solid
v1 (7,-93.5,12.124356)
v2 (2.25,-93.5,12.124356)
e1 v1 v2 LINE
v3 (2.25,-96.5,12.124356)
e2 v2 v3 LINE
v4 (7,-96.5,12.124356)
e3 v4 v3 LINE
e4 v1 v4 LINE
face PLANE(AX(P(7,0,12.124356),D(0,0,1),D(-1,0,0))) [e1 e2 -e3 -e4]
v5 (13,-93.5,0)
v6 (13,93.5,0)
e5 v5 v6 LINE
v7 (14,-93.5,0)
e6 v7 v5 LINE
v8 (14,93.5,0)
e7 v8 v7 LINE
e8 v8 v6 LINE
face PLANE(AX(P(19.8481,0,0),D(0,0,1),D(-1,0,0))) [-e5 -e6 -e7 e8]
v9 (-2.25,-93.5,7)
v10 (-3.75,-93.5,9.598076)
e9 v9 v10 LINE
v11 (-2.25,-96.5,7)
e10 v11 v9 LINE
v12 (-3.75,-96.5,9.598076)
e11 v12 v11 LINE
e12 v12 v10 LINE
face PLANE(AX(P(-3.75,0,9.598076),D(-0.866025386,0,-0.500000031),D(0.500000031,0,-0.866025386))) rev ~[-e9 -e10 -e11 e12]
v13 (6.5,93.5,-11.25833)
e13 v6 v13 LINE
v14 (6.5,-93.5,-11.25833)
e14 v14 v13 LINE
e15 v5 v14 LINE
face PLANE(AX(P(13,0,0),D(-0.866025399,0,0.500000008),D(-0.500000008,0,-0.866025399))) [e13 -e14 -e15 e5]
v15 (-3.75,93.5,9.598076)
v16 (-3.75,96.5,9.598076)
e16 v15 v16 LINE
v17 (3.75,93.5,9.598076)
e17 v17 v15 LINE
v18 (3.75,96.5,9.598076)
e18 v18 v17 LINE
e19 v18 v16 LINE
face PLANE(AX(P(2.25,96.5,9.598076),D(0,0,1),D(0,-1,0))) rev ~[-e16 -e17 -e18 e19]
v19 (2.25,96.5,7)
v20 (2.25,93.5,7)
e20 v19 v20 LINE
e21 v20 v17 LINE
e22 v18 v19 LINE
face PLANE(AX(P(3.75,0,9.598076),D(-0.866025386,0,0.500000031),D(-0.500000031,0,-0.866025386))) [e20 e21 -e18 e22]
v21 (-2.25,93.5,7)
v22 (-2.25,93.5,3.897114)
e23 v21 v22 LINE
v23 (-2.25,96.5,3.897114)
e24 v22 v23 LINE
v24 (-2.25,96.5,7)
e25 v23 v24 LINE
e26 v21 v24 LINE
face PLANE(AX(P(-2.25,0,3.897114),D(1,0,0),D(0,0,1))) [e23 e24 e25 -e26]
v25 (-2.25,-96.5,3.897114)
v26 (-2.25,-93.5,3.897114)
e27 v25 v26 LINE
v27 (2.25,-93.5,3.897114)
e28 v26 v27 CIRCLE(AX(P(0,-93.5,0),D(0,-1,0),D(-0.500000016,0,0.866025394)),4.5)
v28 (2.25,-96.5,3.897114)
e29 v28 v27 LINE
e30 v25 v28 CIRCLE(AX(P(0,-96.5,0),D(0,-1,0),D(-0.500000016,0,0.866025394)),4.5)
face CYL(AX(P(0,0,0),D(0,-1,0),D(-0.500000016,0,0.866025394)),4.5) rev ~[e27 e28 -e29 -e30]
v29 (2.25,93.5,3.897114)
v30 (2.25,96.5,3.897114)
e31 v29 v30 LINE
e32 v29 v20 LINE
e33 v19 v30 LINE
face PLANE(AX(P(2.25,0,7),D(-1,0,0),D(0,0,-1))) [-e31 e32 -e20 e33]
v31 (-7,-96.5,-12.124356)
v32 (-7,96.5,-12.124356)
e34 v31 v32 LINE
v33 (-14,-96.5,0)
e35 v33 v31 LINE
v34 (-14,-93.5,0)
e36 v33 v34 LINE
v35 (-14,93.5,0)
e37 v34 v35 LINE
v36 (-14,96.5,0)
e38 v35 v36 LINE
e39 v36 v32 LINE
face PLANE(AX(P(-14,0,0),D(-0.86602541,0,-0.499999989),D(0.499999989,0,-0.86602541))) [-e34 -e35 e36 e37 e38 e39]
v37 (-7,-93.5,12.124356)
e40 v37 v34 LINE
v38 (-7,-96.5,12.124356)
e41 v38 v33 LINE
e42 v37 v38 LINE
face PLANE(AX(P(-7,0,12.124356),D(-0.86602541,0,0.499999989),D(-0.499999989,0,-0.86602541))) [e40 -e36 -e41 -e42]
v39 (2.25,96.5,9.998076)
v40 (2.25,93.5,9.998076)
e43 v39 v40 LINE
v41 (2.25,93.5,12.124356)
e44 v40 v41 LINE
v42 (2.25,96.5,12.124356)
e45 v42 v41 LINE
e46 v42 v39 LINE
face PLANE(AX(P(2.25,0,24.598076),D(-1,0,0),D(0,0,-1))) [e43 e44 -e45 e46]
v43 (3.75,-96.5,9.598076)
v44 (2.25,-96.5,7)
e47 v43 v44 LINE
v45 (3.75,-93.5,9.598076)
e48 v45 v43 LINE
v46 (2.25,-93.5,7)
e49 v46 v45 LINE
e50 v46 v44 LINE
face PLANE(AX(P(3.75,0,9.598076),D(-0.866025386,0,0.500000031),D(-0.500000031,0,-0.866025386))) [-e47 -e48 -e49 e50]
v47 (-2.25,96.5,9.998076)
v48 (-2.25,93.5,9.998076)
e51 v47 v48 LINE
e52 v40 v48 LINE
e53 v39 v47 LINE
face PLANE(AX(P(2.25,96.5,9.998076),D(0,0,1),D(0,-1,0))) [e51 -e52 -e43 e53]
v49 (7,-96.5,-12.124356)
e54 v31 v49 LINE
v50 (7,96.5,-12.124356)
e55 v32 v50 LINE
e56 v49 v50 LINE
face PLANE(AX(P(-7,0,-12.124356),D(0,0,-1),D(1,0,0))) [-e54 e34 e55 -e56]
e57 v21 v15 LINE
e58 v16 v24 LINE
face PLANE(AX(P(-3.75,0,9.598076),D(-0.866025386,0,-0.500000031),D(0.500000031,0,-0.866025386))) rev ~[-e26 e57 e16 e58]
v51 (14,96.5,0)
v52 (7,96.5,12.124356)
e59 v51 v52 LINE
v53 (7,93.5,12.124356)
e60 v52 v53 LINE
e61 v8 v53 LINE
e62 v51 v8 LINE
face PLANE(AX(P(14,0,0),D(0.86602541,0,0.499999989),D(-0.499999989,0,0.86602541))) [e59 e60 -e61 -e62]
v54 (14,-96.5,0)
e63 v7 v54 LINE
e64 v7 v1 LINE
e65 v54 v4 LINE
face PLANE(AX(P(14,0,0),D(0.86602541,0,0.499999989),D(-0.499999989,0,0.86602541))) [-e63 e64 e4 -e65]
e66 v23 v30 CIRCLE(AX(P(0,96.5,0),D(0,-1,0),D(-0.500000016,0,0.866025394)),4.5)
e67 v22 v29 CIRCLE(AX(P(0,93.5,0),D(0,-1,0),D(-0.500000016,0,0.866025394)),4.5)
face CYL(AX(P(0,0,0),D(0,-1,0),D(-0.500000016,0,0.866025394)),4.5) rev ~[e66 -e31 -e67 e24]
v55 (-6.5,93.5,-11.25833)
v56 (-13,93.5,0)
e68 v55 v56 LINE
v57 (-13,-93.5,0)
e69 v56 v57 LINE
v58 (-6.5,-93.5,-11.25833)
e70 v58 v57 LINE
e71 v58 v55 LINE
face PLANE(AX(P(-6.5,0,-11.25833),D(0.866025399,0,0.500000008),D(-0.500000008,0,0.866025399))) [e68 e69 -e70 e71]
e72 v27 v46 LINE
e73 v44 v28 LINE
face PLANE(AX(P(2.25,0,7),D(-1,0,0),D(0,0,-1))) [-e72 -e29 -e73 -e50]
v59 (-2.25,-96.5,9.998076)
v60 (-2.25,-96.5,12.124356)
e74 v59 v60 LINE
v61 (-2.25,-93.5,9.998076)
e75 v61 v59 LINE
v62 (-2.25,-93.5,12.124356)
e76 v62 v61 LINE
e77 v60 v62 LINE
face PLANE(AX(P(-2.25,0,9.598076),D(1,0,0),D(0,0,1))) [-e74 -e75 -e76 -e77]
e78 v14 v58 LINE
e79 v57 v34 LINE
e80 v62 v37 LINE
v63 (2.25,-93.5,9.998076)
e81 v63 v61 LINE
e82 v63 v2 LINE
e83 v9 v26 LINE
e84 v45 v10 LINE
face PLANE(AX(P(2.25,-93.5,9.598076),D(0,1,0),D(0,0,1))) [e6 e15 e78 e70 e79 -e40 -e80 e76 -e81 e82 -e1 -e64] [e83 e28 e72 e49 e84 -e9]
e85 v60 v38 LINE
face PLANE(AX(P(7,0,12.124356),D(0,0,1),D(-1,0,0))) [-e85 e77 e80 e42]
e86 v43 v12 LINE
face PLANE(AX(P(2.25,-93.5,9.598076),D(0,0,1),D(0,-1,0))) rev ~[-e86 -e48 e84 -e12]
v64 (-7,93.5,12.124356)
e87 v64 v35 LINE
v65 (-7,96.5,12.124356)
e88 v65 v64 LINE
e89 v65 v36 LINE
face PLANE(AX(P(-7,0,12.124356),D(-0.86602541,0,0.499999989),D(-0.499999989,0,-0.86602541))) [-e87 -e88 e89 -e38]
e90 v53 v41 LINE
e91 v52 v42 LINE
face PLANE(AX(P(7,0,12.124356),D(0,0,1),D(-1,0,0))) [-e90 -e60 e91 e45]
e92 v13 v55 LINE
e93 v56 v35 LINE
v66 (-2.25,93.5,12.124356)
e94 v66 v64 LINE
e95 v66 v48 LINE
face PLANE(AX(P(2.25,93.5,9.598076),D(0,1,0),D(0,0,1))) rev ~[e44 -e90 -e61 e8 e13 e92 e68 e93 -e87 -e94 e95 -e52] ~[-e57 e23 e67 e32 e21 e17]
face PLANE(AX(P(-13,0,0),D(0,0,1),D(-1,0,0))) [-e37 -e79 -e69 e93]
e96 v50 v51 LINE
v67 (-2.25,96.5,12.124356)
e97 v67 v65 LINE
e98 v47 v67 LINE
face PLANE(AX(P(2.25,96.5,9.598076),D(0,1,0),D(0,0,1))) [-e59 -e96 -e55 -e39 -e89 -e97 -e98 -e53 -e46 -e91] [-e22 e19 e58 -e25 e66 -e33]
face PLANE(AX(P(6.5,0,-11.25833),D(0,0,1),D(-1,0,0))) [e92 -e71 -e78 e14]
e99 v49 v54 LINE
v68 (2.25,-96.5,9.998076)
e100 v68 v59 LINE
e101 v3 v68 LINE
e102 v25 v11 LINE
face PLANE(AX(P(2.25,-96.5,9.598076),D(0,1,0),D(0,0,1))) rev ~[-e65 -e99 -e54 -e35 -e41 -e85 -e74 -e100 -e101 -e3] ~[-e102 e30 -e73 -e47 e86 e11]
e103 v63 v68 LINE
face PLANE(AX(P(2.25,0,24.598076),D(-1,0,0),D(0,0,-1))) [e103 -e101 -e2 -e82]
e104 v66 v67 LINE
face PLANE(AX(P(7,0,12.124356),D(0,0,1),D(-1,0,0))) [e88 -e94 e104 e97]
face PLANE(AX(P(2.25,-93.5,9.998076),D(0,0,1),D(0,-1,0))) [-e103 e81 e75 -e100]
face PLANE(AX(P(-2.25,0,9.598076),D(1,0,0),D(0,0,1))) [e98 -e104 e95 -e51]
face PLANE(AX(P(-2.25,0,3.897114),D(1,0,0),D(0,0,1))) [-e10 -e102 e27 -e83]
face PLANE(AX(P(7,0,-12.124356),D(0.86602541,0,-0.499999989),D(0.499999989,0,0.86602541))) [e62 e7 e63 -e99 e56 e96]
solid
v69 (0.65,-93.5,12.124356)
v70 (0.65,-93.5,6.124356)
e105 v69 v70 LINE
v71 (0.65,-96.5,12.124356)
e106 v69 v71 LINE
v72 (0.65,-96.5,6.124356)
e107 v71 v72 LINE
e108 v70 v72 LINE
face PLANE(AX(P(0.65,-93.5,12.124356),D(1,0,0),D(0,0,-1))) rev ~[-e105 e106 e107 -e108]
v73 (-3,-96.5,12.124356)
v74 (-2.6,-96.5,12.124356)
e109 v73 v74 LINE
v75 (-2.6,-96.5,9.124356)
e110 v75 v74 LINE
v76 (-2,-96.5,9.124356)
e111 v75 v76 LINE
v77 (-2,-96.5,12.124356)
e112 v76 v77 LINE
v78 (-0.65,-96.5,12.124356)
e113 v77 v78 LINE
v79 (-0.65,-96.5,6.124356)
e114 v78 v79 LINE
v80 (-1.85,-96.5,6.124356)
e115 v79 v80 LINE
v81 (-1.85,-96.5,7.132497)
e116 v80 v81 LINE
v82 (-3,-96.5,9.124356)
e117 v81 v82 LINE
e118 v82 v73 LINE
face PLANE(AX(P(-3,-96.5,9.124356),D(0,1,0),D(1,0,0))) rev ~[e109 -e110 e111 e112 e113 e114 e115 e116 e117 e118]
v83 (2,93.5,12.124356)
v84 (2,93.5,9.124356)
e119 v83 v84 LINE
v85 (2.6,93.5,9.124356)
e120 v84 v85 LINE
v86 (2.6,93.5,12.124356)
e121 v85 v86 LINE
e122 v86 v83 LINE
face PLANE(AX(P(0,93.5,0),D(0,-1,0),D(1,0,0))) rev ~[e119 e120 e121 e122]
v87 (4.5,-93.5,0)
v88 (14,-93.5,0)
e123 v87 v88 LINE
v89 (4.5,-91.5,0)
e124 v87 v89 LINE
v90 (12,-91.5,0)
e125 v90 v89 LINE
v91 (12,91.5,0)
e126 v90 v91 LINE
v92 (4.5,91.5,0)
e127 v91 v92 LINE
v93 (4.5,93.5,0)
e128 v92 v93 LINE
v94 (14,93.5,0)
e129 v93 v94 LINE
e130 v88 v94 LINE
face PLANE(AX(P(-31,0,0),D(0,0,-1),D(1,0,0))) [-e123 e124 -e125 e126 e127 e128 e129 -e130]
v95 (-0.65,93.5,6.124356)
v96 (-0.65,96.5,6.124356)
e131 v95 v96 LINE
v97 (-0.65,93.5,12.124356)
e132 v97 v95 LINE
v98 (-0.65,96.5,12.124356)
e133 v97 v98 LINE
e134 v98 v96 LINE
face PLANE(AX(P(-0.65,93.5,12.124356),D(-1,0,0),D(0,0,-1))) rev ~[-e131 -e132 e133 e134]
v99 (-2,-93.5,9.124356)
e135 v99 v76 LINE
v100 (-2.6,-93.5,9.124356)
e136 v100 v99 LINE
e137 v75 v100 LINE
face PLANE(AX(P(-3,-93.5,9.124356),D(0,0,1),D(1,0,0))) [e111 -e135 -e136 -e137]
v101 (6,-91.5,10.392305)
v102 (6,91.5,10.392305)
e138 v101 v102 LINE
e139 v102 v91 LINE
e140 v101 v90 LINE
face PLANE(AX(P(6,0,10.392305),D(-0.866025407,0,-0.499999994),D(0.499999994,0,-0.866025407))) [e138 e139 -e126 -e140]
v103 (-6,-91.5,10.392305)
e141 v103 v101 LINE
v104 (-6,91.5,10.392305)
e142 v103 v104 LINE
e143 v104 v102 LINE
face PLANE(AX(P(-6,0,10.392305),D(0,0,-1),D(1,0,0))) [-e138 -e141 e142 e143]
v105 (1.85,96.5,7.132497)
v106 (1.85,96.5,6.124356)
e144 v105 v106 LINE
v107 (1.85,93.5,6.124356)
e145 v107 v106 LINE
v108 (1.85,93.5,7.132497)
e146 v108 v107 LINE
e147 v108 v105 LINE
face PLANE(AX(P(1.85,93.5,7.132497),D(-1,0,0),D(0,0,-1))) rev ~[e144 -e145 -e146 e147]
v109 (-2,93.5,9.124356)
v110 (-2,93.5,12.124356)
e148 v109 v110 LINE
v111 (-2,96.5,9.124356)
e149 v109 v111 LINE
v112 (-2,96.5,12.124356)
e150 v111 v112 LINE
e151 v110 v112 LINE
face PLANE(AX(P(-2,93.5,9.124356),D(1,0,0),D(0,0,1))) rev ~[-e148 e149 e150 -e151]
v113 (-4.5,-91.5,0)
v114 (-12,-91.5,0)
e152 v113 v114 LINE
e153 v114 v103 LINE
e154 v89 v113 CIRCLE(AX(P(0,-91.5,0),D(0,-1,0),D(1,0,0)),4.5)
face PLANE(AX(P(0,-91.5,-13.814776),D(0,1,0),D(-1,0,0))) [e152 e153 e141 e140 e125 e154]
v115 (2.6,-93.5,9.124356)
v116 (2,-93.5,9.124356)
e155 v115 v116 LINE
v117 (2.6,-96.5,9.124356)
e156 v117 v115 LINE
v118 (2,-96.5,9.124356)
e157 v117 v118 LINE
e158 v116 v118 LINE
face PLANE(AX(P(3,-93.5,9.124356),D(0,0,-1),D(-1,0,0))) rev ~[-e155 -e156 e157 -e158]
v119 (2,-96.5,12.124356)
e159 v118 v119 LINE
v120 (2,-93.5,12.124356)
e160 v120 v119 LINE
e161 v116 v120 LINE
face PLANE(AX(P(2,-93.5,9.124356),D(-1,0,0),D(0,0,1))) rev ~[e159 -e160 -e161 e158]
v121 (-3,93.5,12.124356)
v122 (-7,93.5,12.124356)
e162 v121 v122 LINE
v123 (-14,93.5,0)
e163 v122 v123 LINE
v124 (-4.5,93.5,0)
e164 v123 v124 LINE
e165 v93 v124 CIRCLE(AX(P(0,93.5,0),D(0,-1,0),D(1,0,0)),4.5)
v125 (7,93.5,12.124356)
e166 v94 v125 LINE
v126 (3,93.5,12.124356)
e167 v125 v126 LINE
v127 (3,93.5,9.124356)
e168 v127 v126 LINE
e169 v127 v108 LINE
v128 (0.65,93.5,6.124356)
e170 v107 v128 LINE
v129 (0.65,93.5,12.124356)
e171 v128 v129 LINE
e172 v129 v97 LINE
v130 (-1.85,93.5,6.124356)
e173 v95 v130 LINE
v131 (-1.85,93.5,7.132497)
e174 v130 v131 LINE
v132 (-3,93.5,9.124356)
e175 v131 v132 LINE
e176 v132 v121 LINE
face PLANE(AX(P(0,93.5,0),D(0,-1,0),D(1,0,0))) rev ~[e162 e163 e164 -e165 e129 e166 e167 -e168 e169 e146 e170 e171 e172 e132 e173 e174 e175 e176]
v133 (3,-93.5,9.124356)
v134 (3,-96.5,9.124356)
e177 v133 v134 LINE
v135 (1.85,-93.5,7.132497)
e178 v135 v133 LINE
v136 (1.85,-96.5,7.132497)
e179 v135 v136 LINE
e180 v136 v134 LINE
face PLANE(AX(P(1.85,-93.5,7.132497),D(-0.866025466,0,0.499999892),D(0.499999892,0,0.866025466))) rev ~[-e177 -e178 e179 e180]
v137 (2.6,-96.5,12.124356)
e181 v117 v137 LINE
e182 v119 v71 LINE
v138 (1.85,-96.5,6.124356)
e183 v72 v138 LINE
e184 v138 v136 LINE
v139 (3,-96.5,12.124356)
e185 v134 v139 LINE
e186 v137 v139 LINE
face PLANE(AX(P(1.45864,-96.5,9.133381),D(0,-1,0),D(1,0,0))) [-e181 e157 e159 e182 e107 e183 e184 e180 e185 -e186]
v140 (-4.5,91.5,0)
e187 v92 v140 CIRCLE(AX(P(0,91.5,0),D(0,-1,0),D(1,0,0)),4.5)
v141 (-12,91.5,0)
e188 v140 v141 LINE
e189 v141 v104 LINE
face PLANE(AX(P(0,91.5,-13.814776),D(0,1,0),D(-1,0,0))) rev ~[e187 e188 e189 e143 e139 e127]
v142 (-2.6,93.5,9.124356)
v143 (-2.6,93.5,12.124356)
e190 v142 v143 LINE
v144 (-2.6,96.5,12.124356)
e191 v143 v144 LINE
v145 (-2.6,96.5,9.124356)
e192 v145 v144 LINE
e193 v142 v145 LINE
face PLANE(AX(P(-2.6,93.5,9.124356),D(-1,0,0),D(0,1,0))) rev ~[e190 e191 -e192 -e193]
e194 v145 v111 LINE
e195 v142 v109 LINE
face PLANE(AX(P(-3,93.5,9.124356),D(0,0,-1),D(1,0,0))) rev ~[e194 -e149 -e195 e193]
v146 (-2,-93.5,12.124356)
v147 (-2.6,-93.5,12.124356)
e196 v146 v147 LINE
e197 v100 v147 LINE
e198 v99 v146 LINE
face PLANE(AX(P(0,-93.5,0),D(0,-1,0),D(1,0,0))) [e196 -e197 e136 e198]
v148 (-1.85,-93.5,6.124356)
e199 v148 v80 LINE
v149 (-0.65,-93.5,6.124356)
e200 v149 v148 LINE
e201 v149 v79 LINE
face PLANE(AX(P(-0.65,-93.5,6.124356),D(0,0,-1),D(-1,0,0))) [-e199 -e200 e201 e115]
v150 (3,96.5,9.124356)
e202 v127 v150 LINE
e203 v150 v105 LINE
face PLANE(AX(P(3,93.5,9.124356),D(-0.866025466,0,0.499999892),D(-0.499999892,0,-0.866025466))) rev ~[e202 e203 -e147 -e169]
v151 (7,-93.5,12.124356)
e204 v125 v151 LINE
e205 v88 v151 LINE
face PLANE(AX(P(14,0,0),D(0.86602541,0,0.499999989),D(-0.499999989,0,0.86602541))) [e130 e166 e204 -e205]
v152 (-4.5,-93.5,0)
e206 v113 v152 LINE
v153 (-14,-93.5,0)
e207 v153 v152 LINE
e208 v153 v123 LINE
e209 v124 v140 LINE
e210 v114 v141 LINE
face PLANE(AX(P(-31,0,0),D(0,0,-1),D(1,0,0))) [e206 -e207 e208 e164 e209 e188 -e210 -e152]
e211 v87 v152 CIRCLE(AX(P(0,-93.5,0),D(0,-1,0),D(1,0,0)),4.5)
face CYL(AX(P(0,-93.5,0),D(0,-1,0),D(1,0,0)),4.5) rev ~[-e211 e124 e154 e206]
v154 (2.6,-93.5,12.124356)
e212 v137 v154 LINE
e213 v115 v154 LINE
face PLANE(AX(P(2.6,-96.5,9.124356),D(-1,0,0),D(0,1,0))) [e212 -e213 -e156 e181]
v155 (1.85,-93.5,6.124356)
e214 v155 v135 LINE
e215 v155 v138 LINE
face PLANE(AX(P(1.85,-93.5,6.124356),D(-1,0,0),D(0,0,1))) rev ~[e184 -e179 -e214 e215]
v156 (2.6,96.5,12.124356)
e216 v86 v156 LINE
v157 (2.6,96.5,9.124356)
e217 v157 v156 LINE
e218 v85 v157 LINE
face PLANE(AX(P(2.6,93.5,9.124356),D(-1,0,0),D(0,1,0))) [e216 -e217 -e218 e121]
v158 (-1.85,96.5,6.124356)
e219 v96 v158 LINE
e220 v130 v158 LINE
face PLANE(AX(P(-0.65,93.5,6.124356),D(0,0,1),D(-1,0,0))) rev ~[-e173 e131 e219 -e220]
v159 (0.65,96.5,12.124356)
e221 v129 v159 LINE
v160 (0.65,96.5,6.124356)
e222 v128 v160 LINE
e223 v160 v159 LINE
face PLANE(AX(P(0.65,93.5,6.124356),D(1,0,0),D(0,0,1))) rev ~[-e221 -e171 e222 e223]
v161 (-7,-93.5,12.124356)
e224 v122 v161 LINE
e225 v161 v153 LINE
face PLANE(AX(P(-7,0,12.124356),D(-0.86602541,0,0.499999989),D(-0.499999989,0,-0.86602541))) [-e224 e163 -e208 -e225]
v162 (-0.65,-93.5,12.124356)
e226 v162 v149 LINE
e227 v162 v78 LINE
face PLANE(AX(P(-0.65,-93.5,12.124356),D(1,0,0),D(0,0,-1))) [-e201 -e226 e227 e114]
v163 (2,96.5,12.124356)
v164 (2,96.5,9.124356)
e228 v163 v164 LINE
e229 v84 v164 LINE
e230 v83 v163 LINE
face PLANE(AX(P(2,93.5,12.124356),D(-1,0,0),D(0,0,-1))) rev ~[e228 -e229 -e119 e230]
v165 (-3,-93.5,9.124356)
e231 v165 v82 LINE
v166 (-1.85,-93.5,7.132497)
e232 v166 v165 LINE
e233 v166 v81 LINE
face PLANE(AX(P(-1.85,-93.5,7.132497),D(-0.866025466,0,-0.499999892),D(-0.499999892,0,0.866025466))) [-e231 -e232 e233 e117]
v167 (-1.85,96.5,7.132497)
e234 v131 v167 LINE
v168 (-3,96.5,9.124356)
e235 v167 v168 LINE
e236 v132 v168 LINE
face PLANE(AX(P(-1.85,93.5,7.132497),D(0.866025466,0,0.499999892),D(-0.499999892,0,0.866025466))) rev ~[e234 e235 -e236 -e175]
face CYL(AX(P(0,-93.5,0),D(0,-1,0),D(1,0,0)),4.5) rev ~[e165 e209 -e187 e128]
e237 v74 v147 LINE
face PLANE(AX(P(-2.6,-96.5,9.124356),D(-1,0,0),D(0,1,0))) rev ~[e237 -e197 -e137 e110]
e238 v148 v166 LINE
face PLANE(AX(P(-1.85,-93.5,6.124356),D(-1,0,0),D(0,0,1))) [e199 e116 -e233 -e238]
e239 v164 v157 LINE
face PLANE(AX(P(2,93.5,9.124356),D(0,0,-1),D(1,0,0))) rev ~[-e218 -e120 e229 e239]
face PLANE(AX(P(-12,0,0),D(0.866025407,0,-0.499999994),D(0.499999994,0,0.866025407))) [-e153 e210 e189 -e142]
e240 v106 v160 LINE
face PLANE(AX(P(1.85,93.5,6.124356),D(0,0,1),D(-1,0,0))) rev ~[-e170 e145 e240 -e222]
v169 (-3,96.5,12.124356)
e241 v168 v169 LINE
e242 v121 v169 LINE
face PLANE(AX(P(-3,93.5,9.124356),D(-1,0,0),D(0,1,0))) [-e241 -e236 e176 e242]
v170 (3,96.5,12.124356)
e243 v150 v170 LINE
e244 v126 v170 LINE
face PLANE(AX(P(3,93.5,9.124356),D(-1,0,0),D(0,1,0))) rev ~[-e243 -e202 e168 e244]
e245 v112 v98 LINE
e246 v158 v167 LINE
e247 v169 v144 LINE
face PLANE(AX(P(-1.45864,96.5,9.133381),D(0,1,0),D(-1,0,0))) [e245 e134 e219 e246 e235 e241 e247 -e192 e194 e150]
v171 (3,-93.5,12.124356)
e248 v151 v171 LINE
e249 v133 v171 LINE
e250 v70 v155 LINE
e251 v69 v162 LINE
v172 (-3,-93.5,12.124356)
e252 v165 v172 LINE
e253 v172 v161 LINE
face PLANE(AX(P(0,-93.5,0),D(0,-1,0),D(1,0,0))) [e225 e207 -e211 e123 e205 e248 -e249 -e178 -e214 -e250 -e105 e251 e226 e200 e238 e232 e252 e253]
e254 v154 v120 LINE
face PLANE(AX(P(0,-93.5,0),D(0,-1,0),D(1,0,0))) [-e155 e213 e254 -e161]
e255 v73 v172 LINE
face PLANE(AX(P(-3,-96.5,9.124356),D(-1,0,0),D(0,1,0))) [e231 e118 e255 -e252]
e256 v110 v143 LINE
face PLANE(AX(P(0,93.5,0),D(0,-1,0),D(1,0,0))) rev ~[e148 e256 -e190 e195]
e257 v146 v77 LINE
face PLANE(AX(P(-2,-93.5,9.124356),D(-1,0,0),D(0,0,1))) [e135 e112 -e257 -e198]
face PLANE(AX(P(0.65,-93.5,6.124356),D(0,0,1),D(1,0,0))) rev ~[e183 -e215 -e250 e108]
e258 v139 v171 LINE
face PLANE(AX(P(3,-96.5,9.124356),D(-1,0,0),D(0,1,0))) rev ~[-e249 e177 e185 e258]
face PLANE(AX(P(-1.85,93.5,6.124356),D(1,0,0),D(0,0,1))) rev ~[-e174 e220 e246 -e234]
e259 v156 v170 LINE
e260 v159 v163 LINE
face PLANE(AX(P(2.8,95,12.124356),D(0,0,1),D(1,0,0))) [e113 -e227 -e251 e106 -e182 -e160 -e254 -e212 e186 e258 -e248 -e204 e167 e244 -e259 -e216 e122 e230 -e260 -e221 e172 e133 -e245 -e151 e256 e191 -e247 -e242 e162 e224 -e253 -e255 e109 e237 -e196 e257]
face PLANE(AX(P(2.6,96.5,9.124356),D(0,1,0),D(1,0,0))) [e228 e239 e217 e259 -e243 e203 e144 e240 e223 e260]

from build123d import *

# Parameters (mm, degrees)
PAD002_DEPTH      = 100
PAD001_DEPTH      = 93.5
PAD_DEPTH         = 96.5
SKETCH010_W       = 3
SKETCH010_H       = 0.4
PAD008_DEPTH      = 5
SKETCH011_W       = 3
SKETCH011_H       = 0.4
PAD009_DEPTH      = 5
SKETCH005_W       = 62
SKETCH005_H       = 32
PAD005_DEPTH      = 100
PAD004_DEPTH      = 91.5
PAD003_DEPTH      = 93.5
SKETCH006_R       = 4.5
POCKET_DEPTH      = 187.001
POCKET_DEPTH_BACK = -0.001
PAD006_DEPTH      = 3
PAD007_DEPTH      = 3
SKETCH012_W       = 0.4
SKETCH012_H       = 3
PAD010_DEPTH      = 3
SKETCH013_W       = 0.4
SKETCH013_H       = 3
PAD011_DEPTH      = 3


with BuildPart() as pad002:
    # Sketch002 → Pad002 (new body, symmetric)
    with BuildSketch(Plane.XZ):
        with BuildLine():
            Line((2.25, 7), (2.25, 3.897114))
            ThreePointArc((-2.25, 3.897114), (0, -4.5), (2.25, 3.897114))
            Line((-2.25, 3.897114), (-2.25, 7))
            Line((-3.75, 9.598076), (-2.25, 7))
            Line((-2.25, 9.598076), (-3.75, 9.598076))
            Line((-2.25, 9.598076), (-2.25, 24.598076))
            Line((-2.25, 24.598076), (2.25, 24.598076))
            Line((2.25, 24.598076), (2.25, 9.598076))
            Line((2.25, 9.598076), (3.75, 9.598076))
            Line((3.75, 9.598076), (2.25, 7))
        make_face()
    extrude(amount=PAD002_DEPTH, both=True)


with BuildPart() as pad001:
    # Sketch001 → Pad001 (new body, symmetric)
    with BuildSketch(Plane.XZ):
        Polygon((-19.8481, 20), (19.8481, 20), (19.8481, 0), (13, 0), (6.5, -11.25833), (-6.5, -11.25833), (-13, 0), (-19.8481, 0), align=None)
    extrude(amount=PAD001_DEPTH, both=True)


with BuildPart() as cajs:
    # Sketch → Pad (new body, symmetric)
    with BuildSketch(Plane.XZ):
        Polygon((7, -12.124356), (14, 0), (7, 12.124356), (-7, 12.124356), (-14, 0), (-7, -12.124356), align=None)
    extrude(amount=PAD_DEPTH, both=True)

    # Cut: cut Pad001
    add(pad001.part, mode=Mode.SUBTRACT)

    # Cut001: cut Pad002
    add(pad002.part, mode=Mode.SUBTRACT)

    # Sketch010 → Pad008 (new body)
    with BuildSketch(Plane(origin=(2.25, 0, 0), x_dir=(0, -1, 0), z_dir=(-1, 0, 0))):
        with Locations((95, 9.798076)):
            Rectangle(SKETCH010_W, SKETCH010_H)
    extrude(amount=PAD008_DEPTH)

    # Sketch011 → Pad009 (new body)
    with BuildSketch(Plane(origin=(2.25, 0, 0), x_dir=(0, -1, 0), z_dir=(-1, 0, 0))):
        with Locations((-95, 9.798076)):
            Rectangle(SKETCH011_W, SKETCH011_H)
    extrude(amount=PAD009_DEPTH)


with BuildPart() as pad005:
    # Sketch005 → Pad005 (new body, symmetric)
    with BuildSketch(Plane.XZ):
        with Locations((0, -16)):
            Rectangle(SKETCH005_W, SKETCH005_H)
    extrude(amount=PAD005_DEPTH, both=True)


with BuildPart() as pad004:
    # Sketch004 → Pad004 (new body, symmetric)
    with BuildSketch(Plane.XZ):
        Polygon((-31.5, 0), (-12, 0), (-6, 10.392305), (6, 10.392305), (12, 0), (31.5, 0), (31.5, -32), (-31.5, -32), align=None)
    extrude(amount=PAD004_DEPTH, both=True)


with BuildPart() as tapa2:
    # Sketch003 → Pad003 (new body, symmetric)
    with BuildSketch(Plane.XZ):
        Polygon((7, -12.124356), (14, 0), (7, 12.124356), (-7, 12.124356), (-14, 0), (-7, -12.124356), align=None)
    extrude(amount=PAD003_DEPTH, both=True)

    # Cut002: cut Pad004
    add(pad004.part, mode=Mode.SUBTRACT)

    # Cut003: cut Pad005
    add(pad005.part, mode=Mode.SUBTRACT)

    # Sketch006 → Pocket (cut, two sides)
    with BuildSketch(Plane.XZ.offset(93.5)) as pocket_sk:
        Circle(SKETCH006_R)
    extrude(amount=-POCKET_DEPTH, mode=Mode.SUBTRACT)
    extrude(pocket_sk.sketch, amount=-POCKET_DEPTH_BACK, mode=Mode.SUBTRACT)

    # Sketch008 → Pad006 (new body)
    with BuildSketch(Plane(origin=(0, 93.5, 0), x_dir=(-1, 0, 0), z_dir=(0, 1, 0))):
        Polygon((-2, 12.124356), (-2, 9.124356), (-3, 9.124356), (-1.85, 7.132497), (-1.85, 6.124356), (-0.65, 6.124356), (-0.65, 12.124356), align=None)
        Polygon((0.65, 12.124356), (0.65, 6.124356), (1.85, 6.124356), (1.85, 7.132497), (3, 9.124356), (2, 9.124356), (2, 12.124356), align=None)
    extrude(amount=PAD006_DEPTH)

    # Sketch009 → Pad007 (new body)
    with BuildSketch(Plane.XZ.offset(93.5)):
        Polygon((0.65, 12.124356), (0.65, 6.124356), (1.85, 6.124356), (1.85, 7.132497), (3, 9.124356), (2, 9.124356), (2, 12.124356), align=None)
        Polygon((-2, 12.124356), (-0.65, 12.124356), (-0.65, 6.124356), (-1.85, 6.124356), (-1.85, 7.132497), (-3, 9.124356), (-2, 9.124356), align=None)
    extrude(amount=PAD007_DEPTH)

    # Sketch012 → Pad010 (new body)
    with BuildSketch(Plane.XY.offset(9.124356)):
        with Locations((-2.8, -95)):
            Rectangle(SKETCH012_W, SKETCH012_H)
        with Locations((2.8, -95)):
            Rectangle(SKETCH012_W, SKETCH012_H)
    extrude(amount=PAD010_DEPTH)

    # Sketch013 → Pad011 (new body)
    with BuildSketch(Plane.XY.offset(9.124356)):
        with Locations((2.8, 95)):
            Rectangle(SKETCH013_W, SKETCH013_H)
        with Locations((-2.8, 95)):
            Rectangle(SKETCH013_W, SKETCH013_H)
    extrude(amount=PAD011_DEPTH)


solid = Compound([cajs.part, tapa2.part])
